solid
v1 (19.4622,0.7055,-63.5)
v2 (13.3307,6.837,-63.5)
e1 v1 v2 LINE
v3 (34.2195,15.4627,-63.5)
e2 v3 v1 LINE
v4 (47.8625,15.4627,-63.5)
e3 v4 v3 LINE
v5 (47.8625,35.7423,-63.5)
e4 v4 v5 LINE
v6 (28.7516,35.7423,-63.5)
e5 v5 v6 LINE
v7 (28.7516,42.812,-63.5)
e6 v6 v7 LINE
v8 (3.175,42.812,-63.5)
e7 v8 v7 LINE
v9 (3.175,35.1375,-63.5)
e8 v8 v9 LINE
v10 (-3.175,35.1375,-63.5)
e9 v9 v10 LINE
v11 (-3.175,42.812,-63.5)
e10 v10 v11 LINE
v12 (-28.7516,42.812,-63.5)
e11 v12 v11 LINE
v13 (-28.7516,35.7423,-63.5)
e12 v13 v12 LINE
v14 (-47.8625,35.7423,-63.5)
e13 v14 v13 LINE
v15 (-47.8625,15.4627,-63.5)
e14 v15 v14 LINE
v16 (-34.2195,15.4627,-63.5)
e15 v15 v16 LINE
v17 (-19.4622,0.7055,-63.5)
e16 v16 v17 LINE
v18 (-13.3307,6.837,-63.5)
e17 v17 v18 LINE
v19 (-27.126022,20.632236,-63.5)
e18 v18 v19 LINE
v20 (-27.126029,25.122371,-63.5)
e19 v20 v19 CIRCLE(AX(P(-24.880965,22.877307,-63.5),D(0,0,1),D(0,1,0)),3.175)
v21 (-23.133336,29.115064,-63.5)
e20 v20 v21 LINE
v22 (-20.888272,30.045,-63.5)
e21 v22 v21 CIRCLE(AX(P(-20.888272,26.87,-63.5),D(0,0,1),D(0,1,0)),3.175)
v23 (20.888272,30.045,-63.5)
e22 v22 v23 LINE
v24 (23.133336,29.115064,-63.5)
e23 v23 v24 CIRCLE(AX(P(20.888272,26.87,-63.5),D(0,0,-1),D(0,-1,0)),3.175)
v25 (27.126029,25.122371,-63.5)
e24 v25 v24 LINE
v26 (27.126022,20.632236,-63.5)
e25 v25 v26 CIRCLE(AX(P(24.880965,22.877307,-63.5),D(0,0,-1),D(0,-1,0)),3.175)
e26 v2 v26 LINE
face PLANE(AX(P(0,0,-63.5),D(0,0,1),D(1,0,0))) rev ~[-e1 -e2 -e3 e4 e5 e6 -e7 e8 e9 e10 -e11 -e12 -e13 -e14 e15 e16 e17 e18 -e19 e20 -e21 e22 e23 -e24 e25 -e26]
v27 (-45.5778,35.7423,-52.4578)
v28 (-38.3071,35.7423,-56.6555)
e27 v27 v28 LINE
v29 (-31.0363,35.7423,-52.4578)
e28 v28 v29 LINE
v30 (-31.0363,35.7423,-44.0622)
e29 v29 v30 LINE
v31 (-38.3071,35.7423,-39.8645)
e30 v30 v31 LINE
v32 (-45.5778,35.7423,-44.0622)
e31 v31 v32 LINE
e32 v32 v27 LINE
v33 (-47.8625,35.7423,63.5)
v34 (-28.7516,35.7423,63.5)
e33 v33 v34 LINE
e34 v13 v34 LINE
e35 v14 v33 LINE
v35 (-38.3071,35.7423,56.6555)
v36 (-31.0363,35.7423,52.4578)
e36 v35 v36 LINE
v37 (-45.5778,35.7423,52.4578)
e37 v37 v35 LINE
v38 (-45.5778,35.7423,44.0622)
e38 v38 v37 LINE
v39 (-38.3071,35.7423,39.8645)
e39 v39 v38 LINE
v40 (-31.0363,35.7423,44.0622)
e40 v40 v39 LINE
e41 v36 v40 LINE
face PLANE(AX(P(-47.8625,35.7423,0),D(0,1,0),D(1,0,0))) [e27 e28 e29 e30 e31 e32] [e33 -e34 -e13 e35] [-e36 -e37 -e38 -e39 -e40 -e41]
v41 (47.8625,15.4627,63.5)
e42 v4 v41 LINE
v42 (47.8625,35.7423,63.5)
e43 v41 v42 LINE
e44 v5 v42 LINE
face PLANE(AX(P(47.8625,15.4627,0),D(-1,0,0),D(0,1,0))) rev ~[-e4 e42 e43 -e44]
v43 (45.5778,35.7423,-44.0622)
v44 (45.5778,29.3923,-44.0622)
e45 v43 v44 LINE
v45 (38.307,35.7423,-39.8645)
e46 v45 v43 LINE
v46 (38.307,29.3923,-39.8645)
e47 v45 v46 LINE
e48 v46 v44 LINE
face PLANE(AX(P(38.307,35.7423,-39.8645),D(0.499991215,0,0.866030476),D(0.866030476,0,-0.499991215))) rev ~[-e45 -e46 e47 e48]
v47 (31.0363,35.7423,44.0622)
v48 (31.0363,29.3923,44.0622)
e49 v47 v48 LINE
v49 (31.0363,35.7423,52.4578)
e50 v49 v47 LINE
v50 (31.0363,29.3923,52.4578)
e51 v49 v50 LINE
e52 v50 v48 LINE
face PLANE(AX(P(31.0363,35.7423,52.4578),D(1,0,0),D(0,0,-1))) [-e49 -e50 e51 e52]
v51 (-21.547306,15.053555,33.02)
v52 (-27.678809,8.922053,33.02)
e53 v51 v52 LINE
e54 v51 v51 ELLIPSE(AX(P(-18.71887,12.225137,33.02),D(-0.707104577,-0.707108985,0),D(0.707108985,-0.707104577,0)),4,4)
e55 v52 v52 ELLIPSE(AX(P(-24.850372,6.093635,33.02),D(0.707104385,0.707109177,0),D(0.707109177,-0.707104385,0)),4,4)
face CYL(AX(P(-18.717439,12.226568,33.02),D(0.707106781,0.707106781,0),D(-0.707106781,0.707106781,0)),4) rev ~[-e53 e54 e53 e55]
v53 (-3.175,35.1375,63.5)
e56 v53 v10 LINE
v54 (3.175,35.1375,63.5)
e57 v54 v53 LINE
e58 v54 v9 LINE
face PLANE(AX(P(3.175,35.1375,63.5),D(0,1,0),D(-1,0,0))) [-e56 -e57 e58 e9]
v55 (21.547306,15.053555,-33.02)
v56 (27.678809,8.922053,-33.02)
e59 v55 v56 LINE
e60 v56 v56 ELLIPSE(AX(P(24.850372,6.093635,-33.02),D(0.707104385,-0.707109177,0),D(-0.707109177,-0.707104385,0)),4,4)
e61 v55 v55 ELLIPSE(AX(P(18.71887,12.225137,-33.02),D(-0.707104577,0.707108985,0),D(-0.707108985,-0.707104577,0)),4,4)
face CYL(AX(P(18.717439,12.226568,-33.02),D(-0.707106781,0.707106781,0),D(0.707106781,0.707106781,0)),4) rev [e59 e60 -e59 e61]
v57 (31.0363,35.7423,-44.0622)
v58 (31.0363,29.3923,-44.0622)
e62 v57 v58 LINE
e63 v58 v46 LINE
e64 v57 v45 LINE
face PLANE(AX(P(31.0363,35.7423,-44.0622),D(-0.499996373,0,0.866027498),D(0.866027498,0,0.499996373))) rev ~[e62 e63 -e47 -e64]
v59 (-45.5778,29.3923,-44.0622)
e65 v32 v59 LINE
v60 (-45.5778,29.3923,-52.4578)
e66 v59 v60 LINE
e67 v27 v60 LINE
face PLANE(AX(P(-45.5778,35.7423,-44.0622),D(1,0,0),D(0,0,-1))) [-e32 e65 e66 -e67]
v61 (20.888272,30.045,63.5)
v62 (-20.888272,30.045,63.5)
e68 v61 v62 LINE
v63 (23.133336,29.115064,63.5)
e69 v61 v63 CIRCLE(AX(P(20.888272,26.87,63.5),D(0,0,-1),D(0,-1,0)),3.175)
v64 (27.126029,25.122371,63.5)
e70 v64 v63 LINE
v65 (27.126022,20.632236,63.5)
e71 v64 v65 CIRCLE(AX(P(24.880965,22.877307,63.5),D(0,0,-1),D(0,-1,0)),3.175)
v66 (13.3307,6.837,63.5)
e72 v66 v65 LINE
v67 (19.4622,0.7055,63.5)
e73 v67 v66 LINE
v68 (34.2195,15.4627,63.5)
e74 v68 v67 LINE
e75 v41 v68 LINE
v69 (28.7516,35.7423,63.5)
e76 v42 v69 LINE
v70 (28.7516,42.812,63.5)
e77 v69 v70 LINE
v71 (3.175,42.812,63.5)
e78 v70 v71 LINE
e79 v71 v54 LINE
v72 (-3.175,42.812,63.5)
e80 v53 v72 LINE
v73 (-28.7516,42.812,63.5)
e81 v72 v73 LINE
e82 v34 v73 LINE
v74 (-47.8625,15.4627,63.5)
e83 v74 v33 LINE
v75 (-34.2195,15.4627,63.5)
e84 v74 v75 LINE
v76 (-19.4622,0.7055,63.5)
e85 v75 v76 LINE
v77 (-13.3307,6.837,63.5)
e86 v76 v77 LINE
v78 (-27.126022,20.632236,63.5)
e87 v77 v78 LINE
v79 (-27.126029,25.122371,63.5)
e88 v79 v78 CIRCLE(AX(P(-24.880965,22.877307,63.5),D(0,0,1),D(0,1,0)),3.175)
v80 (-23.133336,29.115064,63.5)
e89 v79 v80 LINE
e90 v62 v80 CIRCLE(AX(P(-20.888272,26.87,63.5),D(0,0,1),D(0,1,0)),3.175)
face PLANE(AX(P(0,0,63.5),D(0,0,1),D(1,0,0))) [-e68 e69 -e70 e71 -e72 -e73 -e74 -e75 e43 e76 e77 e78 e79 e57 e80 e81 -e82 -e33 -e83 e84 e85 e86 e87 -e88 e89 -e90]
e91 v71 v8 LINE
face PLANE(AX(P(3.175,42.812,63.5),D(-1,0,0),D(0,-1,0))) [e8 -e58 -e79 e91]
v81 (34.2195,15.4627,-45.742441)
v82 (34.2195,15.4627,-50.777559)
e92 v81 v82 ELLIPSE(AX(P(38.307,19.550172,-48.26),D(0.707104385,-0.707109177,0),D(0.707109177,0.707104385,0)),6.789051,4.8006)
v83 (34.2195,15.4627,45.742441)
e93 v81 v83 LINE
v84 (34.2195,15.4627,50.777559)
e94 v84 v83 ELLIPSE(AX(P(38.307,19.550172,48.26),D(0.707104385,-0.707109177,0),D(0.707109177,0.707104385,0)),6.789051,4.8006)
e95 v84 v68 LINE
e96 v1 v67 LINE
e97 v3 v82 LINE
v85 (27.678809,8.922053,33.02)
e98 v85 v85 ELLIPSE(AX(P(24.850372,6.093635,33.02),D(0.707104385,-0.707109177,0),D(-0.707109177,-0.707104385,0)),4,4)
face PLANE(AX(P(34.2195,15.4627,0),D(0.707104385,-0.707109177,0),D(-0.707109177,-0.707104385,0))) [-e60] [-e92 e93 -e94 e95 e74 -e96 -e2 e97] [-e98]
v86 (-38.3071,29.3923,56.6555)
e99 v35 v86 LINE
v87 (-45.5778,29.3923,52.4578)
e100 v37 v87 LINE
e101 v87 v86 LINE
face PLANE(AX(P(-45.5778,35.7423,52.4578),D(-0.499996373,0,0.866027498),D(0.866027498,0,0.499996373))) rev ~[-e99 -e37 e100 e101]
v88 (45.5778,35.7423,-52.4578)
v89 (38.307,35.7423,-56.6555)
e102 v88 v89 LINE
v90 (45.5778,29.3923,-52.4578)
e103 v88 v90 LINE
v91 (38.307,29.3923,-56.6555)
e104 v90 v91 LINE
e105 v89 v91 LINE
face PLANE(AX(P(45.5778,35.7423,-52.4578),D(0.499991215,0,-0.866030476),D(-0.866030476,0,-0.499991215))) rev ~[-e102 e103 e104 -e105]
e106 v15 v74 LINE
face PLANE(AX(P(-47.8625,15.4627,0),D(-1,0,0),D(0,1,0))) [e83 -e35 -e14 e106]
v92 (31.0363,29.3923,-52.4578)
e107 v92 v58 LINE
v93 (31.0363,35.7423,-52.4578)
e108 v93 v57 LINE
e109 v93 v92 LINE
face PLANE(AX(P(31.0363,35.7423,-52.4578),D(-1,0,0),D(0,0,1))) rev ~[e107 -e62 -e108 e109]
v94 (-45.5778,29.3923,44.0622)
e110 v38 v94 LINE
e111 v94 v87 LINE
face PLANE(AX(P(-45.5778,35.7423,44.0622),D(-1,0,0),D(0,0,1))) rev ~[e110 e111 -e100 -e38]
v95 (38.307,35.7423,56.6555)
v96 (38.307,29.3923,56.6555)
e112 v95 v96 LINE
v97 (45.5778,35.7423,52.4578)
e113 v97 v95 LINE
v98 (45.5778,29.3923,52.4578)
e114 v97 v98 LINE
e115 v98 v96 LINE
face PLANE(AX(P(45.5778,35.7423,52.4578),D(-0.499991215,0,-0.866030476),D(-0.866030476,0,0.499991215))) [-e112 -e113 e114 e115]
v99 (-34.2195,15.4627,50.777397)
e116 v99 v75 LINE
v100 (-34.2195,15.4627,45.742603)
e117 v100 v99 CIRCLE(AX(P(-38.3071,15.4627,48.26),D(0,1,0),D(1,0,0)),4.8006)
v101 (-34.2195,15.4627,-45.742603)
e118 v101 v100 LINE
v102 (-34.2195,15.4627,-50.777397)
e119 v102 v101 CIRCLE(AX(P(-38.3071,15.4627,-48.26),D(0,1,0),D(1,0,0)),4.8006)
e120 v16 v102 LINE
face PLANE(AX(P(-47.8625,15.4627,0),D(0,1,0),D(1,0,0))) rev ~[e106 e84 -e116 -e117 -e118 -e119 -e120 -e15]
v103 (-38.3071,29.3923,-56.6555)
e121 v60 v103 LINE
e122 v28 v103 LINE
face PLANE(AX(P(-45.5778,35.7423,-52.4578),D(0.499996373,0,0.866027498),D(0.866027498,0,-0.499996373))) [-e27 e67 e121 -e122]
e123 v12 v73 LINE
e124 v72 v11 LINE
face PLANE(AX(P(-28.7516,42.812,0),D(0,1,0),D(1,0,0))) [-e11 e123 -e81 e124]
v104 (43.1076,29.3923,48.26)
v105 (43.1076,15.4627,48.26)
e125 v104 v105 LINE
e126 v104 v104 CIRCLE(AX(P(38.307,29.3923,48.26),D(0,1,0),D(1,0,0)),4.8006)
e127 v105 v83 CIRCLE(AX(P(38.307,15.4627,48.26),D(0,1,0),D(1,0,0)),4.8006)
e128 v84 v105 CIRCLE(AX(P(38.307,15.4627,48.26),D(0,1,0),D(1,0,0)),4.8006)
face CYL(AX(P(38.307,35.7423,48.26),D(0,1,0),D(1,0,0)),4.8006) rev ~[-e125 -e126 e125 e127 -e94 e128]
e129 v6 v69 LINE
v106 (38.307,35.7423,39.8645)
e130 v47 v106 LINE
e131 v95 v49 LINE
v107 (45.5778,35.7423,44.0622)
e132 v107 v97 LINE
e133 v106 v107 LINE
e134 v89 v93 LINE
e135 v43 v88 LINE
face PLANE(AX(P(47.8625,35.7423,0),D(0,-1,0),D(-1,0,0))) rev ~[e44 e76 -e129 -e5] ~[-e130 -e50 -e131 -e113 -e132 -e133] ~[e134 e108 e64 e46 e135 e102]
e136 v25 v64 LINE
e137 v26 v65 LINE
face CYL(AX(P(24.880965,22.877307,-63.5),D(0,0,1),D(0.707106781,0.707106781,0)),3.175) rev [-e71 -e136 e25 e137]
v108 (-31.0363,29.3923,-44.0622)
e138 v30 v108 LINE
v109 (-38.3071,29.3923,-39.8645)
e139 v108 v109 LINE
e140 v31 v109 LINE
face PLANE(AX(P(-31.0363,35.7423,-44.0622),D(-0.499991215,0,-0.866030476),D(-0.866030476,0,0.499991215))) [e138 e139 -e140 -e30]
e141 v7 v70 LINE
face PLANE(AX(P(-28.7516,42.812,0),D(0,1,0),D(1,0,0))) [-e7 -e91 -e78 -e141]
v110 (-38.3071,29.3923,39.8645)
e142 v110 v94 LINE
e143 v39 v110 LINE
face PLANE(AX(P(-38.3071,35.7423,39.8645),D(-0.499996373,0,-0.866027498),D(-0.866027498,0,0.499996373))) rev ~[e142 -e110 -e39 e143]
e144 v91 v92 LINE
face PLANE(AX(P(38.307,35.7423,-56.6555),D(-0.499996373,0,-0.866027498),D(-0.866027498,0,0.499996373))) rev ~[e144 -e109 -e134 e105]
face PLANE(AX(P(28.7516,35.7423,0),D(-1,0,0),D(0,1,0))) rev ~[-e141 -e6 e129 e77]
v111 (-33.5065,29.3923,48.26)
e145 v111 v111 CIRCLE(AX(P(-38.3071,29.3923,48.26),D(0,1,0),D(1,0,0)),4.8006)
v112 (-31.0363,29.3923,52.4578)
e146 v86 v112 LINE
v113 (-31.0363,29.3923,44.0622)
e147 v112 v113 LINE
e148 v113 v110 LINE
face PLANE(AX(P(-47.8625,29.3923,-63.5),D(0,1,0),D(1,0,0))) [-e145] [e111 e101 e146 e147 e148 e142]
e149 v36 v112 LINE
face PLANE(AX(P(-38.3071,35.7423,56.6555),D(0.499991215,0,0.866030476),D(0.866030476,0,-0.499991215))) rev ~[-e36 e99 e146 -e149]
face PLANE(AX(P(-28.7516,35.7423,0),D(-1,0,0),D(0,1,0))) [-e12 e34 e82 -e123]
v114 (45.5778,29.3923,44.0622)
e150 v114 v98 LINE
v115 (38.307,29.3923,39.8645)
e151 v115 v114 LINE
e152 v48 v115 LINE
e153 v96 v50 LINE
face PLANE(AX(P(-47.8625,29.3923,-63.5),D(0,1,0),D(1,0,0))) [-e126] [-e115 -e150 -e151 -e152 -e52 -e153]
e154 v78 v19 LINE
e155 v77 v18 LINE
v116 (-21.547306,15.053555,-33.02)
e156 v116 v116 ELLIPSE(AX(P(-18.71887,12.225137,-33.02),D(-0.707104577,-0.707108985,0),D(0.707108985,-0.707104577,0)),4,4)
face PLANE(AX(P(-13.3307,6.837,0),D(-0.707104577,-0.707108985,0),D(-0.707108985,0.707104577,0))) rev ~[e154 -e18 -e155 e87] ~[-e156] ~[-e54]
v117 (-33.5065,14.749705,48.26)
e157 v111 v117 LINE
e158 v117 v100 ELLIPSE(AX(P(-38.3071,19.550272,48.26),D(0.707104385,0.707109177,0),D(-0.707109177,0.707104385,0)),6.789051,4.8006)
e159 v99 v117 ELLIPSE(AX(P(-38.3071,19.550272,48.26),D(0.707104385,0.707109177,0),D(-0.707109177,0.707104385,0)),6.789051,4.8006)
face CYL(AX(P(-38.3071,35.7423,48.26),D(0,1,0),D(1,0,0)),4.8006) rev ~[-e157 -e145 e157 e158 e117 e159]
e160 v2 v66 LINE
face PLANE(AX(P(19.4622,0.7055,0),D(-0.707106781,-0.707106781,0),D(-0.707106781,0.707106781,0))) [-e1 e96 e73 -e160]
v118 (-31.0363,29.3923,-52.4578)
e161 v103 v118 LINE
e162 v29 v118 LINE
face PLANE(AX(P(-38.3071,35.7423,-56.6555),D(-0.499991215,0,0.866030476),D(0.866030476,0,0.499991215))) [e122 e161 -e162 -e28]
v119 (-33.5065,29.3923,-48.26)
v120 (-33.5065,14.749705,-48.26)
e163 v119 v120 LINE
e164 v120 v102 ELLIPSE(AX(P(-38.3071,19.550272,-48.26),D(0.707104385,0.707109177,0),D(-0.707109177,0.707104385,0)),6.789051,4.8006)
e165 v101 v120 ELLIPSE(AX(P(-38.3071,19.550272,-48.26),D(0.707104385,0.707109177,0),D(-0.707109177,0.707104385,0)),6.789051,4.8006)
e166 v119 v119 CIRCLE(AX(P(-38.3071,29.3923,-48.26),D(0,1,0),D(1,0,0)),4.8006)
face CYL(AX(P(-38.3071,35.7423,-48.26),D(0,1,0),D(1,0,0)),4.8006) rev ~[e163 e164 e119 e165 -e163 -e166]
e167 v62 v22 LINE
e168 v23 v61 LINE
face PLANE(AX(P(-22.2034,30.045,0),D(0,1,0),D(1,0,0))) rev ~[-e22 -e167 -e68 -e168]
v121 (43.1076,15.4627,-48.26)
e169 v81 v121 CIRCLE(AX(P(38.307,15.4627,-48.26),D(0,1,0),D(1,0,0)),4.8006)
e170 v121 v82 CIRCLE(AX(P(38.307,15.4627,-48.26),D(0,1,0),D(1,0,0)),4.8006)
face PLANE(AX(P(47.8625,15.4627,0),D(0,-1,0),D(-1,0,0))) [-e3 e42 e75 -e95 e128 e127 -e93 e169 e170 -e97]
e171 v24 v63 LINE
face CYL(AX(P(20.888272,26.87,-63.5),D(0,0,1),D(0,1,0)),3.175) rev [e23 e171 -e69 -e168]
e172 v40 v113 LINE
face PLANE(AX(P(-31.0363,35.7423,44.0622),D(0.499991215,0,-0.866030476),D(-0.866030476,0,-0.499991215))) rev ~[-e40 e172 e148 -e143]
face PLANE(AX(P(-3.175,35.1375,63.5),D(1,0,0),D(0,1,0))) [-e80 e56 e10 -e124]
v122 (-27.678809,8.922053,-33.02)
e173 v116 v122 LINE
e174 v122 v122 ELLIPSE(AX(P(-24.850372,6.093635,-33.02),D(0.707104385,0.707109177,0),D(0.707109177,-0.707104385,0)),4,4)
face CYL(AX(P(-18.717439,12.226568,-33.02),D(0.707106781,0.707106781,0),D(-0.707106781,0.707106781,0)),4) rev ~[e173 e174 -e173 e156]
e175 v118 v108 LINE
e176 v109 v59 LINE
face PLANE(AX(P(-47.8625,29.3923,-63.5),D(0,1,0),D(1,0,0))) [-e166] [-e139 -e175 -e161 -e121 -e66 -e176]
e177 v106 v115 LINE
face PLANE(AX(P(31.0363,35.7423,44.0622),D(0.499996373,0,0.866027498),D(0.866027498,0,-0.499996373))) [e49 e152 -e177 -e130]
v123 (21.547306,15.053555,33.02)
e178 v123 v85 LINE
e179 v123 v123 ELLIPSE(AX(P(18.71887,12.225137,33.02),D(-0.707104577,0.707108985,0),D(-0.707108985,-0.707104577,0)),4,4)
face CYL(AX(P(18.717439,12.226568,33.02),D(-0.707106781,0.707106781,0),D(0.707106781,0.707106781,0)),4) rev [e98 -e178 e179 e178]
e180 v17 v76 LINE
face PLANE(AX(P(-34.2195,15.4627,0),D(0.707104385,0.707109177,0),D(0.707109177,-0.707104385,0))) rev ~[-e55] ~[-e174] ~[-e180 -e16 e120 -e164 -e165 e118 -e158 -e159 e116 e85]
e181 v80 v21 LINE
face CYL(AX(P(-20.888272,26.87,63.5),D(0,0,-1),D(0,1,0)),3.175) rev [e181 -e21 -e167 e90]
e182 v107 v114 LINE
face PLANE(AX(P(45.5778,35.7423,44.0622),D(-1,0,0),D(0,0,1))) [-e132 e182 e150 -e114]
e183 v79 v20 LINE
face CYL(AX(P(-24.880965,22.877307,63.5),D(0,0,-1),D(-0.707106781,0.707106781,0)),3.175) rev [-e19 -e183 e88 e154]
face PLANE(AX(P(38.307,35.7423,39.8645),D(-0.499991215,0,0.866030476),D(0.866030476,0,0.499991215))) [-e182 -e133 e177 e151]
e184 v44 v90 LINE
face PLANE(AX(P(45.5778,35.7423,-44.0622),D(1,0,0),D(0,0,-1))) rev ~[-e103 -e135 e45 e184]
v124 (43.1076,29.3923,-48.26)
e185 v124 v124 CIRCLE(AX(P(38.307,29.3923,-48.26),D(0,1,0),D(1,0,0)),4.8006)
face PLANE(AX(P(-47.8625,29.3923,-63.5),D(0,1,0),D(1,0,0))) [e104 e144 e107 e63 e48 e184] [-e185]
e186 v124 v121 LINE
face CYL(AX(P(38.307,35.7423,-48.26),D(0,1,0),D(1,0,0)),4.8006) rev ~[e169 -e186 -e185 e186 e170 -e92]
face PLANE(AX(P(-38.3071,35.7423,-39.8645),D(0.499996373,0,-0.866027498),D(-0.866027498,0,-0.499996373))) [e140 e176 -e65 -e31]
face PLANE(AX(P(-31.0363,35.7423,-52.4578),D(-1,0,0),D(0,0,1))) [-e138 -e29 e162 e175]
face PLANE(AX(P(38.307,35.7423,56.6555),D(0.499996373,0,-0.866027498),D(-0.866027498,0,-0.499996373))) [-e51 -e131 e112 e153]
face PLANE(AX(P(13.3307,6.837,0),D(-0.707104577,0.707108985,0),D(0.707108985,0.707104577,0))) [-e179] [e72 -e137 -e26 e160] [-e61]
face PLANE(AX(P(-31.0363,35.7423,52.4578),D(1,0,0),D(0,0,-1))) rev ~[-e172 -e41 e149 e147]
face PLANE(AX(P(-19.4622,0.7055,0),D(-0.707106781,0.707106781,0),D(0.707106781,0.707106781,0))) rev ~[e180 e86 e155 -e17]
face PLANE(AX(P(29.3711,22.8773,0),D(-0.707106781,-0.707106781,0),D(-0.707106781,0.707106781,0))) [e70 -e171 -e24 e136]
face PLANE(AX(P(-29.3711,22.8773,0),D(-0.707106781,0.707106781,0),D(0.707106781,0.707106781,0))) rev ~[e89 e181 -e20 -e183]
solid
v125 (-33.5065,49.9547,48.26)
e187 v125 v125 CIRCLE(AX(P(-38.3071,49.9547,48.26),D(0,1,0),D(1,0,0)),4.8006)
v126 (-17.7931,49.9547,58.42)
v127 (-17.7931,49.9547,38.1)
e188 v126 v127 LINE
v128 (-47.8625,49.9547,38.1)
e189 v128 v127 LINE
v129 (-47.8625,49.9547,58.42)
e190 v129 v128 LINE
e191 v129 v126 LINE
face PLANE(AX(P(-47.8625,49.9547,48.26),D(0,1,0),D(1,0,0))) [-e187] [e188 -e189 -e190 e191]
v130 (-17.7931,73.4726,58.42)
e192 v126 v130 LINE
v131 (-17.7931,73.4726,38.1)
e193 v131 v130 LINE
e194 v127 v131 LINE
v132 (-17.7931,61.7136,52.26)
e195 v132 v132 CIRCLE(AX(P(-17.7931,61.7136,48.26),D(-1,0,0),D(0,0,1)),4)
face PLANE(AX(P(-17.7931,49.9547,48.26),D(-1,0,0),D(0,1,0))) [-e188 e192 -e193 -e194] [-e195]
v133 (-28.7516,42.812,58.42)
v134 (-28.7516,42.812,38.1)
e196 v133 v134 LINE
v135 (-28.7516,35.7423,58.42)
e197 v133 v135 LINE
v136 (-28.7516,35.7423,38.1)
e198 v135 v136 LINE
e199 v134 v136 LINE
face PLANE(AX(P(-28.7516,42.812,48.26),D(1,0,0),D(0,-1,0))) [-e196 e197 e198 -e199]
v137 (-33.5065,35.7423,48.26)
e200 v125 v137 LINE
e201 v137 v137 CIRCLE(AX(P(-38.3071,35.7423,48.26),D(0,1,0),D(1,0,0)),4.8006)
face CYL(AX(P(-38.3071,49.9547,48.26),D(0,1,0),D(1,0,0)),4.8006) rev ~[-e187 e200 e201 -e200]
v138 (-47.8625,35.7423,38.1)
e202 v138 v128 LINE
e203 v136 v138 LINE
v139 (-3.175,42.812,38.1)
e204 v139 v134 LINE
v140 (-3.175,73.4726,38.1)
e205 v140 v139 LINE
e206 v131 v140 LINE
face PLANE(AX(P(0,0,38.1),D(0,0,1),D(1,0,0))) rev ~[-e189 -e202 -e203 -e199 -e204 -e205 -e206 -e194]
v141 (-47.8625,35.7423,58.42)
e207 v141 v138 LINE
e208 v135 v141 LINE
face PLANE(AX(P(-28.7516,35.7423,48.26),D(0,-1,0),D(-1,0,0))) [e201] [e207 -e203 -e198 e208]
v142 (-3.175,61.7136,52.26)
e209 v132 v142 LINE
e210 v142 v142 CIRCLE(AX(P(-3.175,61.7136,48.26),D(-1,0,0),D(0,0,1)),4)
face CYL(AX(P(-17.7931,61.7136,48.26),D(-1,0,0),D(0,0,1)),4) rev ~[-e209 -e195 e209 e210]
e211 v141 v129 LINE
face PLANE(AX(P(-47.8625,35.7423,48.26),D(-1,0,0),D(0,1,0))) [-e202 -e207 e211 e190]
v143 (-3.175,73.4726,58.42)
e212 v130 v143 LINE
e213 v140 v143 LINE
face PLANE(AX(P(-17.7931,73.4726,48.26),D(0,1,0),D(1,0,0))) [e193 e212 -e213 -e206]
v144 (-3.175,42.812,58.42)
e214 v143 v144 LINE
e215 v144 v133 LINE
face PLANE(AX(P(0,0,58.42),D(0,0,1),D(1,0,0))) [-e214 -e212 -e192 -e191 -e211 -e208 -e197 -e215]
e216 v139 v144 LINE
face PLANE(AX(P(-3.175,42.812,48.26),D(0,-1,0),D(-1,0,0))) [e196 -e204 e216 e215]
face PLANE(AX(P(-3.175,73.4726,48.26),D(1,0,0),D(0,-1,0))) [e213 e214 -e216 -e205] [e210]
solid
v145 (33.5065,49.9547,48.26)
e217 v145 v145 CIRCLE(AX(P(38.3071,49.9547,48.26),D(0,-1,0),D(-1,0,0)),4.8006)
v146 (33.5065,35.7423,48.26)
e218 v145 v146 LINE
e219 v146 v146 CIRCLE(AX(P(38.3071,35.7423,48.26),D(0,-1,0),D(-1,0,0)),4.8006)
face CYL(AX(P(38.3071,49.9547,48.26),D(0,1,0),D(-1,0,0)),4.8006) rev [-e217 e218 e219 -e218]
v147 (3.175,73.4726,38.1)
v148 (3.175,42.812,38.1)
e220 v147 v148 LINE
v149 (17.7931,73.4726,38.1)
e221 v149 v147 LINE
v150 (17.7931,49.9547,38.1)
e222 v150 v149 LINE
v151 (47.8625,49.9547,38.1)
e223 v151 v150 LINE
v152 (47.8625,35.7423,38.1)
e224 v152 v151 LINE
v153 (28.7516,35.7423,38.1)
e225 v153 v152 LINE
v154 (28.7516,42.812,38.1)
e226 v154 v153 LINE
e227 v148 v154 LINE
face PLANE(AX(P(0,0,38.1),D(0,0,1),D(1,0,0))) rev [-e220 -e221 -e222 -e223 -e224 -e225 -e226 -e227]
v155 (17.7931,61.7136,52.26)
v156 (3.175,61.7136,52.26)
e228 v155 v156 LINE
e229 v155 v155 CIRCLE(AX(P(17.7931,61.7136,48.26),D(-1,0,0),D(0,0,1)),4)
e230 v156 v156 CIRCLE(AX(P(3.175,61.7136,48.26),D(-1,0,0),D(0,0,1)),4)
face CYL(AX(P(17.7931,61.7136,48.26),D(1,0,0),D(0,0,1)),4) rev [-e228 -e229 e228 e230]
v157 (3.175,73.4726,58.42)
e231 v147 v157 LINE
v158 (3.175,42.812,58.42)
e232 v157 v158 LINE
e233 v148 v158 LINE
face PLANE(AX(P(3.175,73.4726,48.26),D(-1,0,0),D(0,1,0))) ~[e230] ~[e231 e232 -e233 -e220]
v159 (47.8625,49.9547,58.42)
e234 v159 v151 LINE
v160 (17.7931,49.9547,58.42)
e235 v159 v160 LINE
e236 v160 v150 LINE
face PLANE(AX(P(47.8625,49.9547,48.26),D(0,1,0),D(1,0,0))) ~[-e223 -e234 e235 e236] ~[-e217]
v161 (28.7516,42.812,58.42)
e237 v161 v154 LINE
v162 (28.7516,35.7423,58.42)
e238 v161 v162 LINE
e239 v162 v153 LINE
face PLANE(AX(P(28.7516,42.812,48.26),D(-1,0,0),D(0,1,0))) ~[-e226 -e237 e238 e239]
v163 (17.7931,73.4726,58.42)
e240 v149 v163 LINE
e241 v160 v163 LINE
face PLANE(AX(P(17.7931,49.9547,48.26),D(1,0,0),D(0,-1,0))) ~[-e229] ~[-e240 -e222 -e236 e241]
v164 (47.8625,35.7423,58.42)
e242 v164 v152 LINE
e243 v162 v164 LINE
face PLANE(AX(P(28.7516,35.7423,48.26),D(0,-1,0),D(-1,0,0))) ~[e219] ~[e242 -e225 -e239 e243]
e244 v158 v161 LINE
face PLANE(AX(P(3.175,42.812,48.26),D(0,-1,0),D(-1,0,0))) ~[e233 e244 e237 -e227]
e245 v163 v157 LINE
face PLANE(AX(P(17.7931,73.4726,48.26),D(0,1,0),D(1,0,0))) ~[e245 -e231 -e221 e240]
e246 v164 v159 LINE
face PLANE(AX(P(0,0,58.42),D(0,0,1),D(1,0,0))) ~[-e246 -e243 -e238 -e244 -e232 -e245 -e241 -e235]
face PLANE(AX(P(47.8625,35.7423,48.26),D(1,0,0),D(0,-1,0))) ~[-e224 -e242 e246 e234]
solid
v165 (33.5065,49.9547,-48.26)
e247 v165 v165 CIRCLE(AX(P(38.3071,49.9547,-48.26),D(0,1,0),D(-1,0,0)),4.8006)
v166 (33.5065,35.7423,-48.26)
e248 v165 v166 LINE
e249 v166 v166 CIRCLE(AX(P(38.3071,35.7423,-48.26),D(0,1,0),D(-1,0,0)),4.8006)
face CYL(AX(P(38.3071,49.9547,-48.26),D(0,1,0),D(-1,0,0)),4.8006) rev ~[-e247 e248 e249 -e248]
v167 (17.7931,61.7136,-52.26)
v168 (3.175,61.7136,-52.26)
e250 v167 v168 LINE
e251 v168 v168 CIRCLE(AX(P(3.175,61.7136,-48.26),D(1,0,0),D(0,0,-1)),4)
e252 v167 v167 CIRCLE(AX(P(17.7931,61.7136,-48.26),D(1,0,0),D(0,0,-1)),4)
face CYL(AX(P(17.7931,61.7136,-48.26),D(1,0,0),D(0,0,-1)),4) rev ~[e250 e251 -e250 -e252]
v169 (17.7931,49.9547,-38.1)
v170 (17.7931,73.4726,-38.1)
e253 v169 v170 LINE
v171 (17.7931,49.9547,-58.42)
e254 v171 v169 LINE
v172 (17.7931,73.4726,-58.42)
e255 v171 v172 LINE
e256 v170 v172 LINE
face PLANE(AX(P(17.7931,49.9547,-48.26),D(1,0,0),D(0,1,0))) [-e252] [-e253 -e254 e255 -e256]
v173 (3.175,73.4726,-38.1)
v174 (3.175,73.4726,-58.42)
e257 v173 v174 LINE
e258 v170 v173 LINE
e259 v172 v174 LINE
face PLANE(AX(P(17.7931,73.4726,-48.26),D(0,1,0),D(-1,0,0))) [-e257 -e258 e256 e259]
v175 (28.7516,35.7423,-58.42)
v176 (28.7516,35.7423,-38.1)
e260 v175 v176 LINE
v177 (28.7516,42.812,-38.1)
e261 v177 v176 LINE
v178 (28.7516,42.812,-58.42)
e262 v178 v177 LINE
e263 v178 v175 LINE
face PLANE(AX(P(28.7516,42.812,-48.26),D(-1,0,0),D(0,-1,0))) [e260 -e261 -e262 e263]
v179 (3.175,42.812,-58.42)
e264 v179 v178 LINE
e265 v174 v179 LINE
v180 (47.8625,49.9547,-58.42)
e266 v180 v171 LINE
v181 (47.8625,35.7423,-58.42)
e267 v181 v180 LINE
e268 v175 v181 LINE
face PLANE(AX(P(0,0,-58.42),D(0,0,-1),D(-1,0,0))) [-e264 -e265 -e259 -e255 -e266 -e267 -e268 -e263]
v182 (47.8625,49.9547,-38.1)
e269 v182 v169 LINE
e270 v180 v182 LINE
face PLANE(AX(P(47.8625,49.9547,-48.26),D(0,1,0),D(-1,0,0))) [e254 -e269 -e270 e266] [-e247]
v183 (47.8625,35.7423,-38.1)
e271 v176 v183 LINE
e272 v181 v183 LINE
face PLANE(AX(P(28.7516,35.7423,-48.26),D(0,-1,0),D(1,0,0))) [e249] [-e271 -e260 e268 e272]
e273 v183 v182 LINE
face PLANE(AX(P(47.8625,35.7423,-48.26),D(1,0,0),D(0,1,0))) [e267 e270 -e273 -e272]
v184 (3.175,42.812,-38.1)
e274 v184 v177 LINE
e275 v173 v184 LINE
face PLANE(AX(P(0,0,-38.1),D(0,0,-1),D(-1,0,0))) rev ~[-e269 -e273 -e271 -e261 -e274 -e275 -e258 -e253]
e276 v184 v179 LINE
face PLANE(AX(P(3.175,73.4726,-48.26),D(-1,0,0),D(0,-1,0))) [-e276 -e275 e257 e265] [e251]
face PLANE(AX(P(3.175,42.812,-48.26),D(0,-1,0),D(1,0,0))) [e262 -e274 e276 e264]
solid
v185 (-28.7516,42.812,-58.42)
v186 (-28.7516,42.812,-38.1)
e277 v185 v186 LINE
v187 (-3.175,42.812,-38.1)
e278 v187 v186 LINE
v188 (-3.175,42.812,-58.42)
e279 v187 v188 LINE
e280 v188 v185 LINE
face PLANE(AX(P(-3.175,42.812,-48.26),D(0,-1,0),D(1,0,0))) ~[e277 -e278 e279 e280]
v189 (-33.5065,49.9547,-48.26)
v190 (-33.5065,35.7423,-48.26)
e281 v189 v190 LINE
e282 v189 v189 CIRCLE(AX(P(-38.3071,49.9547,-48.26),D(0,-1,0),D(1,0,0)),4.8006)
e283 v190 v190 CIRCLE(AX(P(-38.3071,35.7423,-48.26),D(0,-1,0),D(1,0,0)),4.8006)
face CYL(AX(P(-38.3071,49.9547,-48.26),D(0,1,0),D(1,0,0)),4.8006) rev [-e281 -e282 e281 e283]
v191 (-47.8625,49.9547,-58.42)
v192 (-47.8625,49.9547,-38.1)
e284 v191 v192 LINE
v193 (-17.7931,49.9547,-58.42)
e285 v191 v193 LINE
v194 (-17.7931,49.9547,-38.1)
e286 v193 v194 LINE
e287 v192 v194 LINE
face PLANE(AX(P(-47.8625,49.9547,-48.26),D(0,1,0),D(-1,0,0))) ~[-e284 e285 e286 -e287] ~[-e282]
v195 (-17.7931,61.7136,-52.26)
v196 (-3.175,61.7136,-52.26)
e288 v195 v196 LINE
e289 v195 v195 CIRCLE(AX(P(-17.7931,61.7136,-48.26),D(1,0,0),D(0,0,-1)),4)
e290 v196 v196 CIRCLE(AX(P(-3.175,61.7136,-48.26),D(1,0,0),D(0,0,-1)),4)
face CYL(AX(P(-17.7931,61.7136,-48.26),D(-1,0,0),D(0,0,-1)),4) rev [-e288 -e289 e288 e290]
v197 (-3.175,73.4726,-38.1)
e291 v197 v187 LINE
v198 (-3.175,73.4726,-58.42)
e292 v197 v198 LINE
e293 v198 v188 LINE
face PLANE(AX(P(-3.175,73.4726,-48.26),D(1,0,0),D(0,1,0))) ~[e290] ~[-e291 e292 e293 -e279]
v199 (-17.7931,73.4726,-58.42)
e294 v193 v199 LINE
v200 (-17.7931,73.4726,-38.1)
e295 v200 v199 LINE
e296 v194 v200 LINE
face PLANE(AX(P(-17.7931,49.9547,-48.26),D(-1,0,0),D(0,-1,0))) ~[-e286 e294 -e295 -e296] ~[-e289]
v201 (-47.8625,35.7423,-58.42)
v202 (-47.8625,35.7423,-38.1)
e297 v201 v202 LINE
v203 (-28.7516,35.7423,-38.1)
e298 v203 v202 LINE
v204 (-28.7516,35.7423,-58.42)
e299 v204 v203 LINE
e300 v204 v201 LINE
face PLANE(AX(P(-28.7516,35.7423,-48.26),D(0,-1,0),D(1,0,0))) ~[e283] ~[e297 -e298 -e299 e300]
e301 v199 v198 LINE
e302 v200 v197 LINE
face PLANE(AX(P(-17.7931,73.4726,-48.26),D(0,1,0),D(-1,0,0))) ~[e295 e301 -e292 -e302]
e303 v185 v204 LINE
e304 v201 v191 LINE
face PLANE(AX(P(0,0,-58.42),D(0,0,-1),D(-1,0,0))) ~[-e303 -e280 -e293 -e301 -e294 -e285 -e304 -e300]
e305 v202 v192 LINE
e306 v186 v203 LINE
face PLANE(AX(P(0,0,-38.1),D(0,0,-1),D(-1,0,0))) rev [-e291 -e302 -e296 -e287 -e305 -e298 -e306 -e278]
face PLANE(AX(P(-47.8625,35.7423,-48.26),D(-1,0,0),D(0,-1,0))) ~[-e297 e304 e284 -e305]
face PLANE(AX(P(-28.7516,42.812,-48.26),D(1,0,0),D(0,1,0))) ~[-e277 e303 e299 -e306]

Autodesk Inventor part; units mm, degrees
sketch "Sketch1" plane through (0, 0, 0) normal (0, 0, 1) x (1, 0, 0)
  line L0 (0, 17.9605) -> (17.9605, 0) construction
  line L1 (17.9605, 0) -> (0, -17.9605) construction
  line L2 (0, -17.9605) -> (-17.9605, 0) construction
  line L3 (-17.9605, 0) -> (0, 17.9605) construction
  line L4 (0, 17.9605) -> (0, -17.9605) construction
  line L5 (17.9605, 0) -> (-17.9605, 0) construction
  line L6 (0, -30.115) -> (0, 54.9665) projected
  line L7 (-27.2882, 23.4644) -> (-11.7319, 7.908) construction
  line L8 (-11.7319, 7.908) -> (-6.7821, 12.8578) construction
  line L9 (-6.7821, 12.8578) -> (-22.3385, 28.4141) construction
  line L10 (-27.2882, 23.4644) -> (-22.3385, 28.4141) construction
  line L11 (27.2882, 23.4644) -> (11.7319, 7.908) construction
  line L12 (11.7319, 7.908) -> (6.7821, 12.8578) construction
  line L13 (6.7821, 12.8578) -> (22.3385, 28.4141) construction
  line L14 (27.2882, 23.4644) -> (22.3385, 28.4141) construction
  line L15 (-13.3307, 6.837) -> (-29.3711, 22.8773)
  line L16 (-29.3711, 22.8773) -> (-22.2034, 30.045)
  line L17 (-22.2034, 30.045) -> (0, 30.045)
  line L18 (-47.8625, 35.7423) -> (-28.7516, 35.7423)
  line L19 (-28.7516, 35.7423) -> (-28.7516, 42.812)
  line L20 (-28.7516, 42.812) -> (0, 42.812)
  line L21 (-47.8625, 15.4627) -> (-47.8625, 35.7423)
  line L22 (-47.8625, 15.4627) -> (-34.2195, 15.4627)
  line L23 (-34.2195, 15.4627) -> (-19.4622, 0.7055)
  line L24 (-19.4622, 0.7055) -> (-13.3307, 6.837)
  line L25 (13.3307, 6.837) -> (29.3711, 22.8773)
  line L26 (29.3711, 22.8773) -> (22.2034, 30.045)
  line L27 (22.2034, 30.045) -> (0, 30.045)
  line L28 (47.8625, 35.7423) -> (28.7516, 35.7423)
  line L29 (28.7516, 35.7423) -> (28.7516, 42.812)
  line L30 (28.7516, 42.812) -> (0, 42.812)
  line L31 (47.8625, 15.4627) -> (47.8625, 35.7423)
  line L32 (47.8625, 15.4627) -> (34.2195, 15.4627)
  line L33 (34.2195, 15.4627) -> (19.4622, 0.7055)
  line L34 (19.4622, 0.7055) -> (13.3307, 6.837)
  point P0 (0, 0)
  point P1 (0, 0)
  point P2 (0, 0)
  point P3 (0, 0)
  dimension "d2" = 25.4
  dimension "d3" = 25.4
  dimension "d6" = 22
  dimension "d14" = 7
extrude "Carriage Frame" add sketch "Sketch1" along normal mid plane 127
fillet "Fillet1" radius 3.175 4 edges at (-29.3711, 22.8773, 0) (-22.2034, 30.045, 0) (22.2034, 30.045, 0) (29.3711, 22.8773, 0)
sketch "Sketch7" plane through (-47.8625, 35.7423, -63.5) normal (0, 1, 0) x (1, 0, 0)
  line L0 (19.1109, 0) -> (76.6141, 0) projected
  line L1 (19.1109, 0) -> (19.1109, -127) projected
  line L2 (76.6141, -127) -> (19.1109, -127) projected
  line L3 (76.6141, 0) -> (76.6141, -127) projected
  line L4 (0, 0) -> (19.1109, 0) projected
  line L5 (0, 0) -> (0, -127) projected
  line L6 (19.1109, -127) -> (0, -127) projected
  line L7 (19.1109, 0) -> (19.1109, -127) projected
  line L8 (76.6141, 0) -> (95.725, 0) projected
  line L9 (76.6141, 0) -> (76.6141, -127) projected
  line L10 (95.725, -127) -> (76.6141, -127) projected
  line L11 (95.725, -127) -> (95.725, 0) projected
  line L12 (19.1109, -63.5) -> (76.6141, -63.5) construction
  line L13 (47.8625, -63.5) -> (47.8625, -63.5) construction
  line L14 (16.8262, -19.4378) -> (9.5554, -23.6355)
  line L15 (9.5554, -23.6355) -> (2.2847, -19.4378)
  line L16 (2.2847, -19.4378) -> (2.2847, -11.0422)
  line L17 (2.2847, -11.0422) -> (9.5554, -6.8445)
  line L18 (9.5554, -6.8445) -> (16.8262, -11.0422)
  line L19 (16.8262, -11.0422) -> (16.8262, -19.4378)
  line L20 (78.8988, -19.4378) -> (86.1695, -23.6355)
  line L21 (86.1695, -23.6355) -> (93.4403, -19.4378)
  line L22 (93.4403, -19.4378) -> (93.4403, -11.0422)
  line L23 (93.4403, -11.0422) -> (86.1695, -6.8445)
  line L24 (86.1695, -6.8445) -> (78.8988, -11.0422)
  line L25 (78.8988, -11.0422) -> (78.8988, -19.4378)
  line L26 (16.8262, -107.5622) -> (9.5554, -103.3645)
  line L27 (9.5554, -103.3645) -> (2.2847, -107.5622)
  line L28 (2.2847, -107.5622) -> (2.2847, -115.9578)
  line L29 (2.2847, -115.9578) -> (9.5554, -120.1555)
  line L30 (9.5554, -120.1555) -> (16.8262, -115.9578)
  line L31 (16.8262, -115.9578) -> (16.8262, -107.5622)
  line L32 (78.8988, -115.9578) -> (78.8988, -107.5622)
  line L33 (86.1695, -120.1555) -> (78.8988, -115.9578)
  line L34 (78.8988, -107.5622) -> (86.1695, -103.3645)
  line L35 (93.4403, -115.9578) -> (86.1695, -120.1555)
  line L36 (93.4403, -107.5622) -> (93.4403, -115.9578)
  line L37 (86.1695, -103.3645) -> (93.4403, -107.5622)
  circle A0 centre (9.5554, -15.24) radius 4.8006
  circle A1 centre (86.1695, -15.24) radius 4.8006
  circle A2 centre (9.5554, -111.76) radius 4.8006
  circle A3 centre (86.1695, -111.76) radius 4.8006
  point P0 (9.5554, 0)
  dimension "d61" = 15.24
  dimension "d78" = 14.5415
  dimension "d79" = 9.6012
extrude "Carriage Screw" cut sketch "Sketch7" against normal through all contours A0 | A1 | A2 | A3
extrude "Carriage Screw Insert" cut sketch "Sketch7" against normal blind 6.35 contours L14 L15 L16 L17 L18 L19 | L25 L24 L23 L22 L21 L20 | L31 L30 L29 L28 L27 L26 | L32 L34 L37 L36 L35 L33 | A3
sketch "Ball Bearings" plane through (-13.3307, 6.837, -63.5) normal (0.7071, 0.7071, 0) x (-0.7071, 0.7071, 0)
  line L0 (19.5095, 127) -> (19.5095, 0) projected
  line L1 (0, 127) -> (19.5095, 127) projected
  line L2 (0, 0) -> (0, 127) projected
  line L3 (19.5095, 0) -> (0, 0) projected
  circle A0 centre (7.62, 96.52) radius 4
  line L4 (19.5095, 63.5) -> (0, 63.5) construction
  circle A1 centre (7.62, 30.48) radius 4
  point P0 (-14.2607, 63.5)
  dimension "d94" = 8
  dimension "d106" = 33.02
  dimension "d107" = 7.62
ref_plane "Carriage Mid Plane" through (0, 15.4627, -63.5) normal (-1, 0, 0) x (0, 0, 1)
extrude "Ball Bearing Hole" cut sketch "Ball Bearings" against normal up to surface (8.6713 mm away) contours A0 | A1
mirror "Mirror4" about plane through (0, 15.4627, -63.5) normal (-1, 0, 0) of "Ball Bearing Hole"
sketch "Sketch13" plane through (0, 0, 63.5) normal (0, 0, 1) x (1, 0, 0)
  line L0 (47.8625, 35.7423) -> (28.7516, 35.7423) projected
  line L1 (28.7516, 35.7423) -> (28.7516, 42.812) projected
  line L2 (28.7516, 42.812) -> (-28.7516, 42.812) projected
  line L3 (-28.7516, 42.812) -> (-28.7516, 35.7423) projected
  line L4 (-28.7516, 35.7423) -> (-47.8625, 35.7423) projected
  line L5 (-47.8625, 35.7423) -> (-47.8625, 15.4627) projected
  line L6 (-47.8625, 15.4627) -> (-34.2195, 15.4627) projected
  line L7 (-34.2195, 15.4627) -> (-19.4622, 0.7055) projected
  line L8 (-19.4622, 0.7055) -> (-13.3307, 6.837) projected
  line L9 (-13.3307, 6.837) -> (-27.126, 20.6323) projected
  arc A0 (-27.126, 25.1224) -> (-27.126, 20.6323) centre (-24.8809, 22.8773) ccw projected
  line L10 (-27.126, 25.1224) -> (-23.1333, 29.1151) projected
  arc A1 (-20.8883, 30.045) -> (-23.1333, 29.1151) centre (-20.8883, 26.87) ccw projected
  line L11 (-20.8883, 30.045) -> (20.8883, 30.045) projected
  arc A2 (23.1333, 29.1151) -> (20.8883, 30.045) centre (20.8883, 26.87) ccw projected
  line L12 (23.1333, 29.1151) -> (27.126, 25.1224) projected
  arc A3 (27.126, 20.6323) -> (27.126, 25.1224) centre (24.8809, 22.8773) ccw projected
  line L13 (27.126, 20.6323) -> (13.3307, 6.837) projected
  line L14 (13.3307, 6.837) -> (19.4622, 0.7055) projected
  line L15 (19.4622, 0.7055) -> (34.2195, 15.4627) projected
  line L16 (34.2195, 15.4627) -> (47.8625, 15.4627) projected
  line L17 (47.8625, 15.4627) -> (47.8625, 35.7423) projected
  line L18 (-3.175, 42.812) -> (3.175, 42.812)
  line L19 (3.175, 42.812) -> (3.175, 35.1375)
  line L20 (3.175, 35.1375) -> (-3.175, 35.1375)
  line L21 (-3.175, 35.1375) -> (-3.175, 42.812)
  point P0 (0, 0)
  point P1 (0, 42.812)
  point P2 (0, 42.812)
  dimension "d112" = 6.35
extrude "Extrusion11" cut sketch "Sketch13" against normal up to surface (127 mm away) contours L19 L20 L21 L2
ref_plane "Work Plane3" through (0, 0, 48.26) normal (0, 0, 1) x (1, 0, 0)
sketch "Sketch15" plane through (0, 0, 48.26) normal (0, 0, 1) x (1, 0, 0)
  line L0 (-3.175, 35.1375) -> (-3.175, 42.812) projected
  line L1 (-3.175, 42.812) -> (-28.7516, 42.812) projected
  line L2 (-28.7516, 42.812) -> (-28.7516, 35.7423) projected
  line L3 (-28.7516, 35.7423) -> (-47.8625, 35.7423) projected
  line L4 (-47.8625, 35.7423) -> (-47.8625, 15.4627) projected
  line L5 (-47.8625, 15.4627) -> (-34.2195, 15.4627) projected
  line L6 (-34.2195, 15.4627) -> (-19.4622, 0.7055) projected
  line L7 (-19.4622, 0.7055) -> (-13.3307, 6.837) projected
  line L8 (-13.3307, 6.837) -> (-27.126, 20.6323) projected
  arc A0 (-27.126, 25.1224) -> (-27.126, 20.6323) centre (-24.8809, 22.8773) ccw projected
  line L9 (-27.126, 25.1224) -> (-23.1333, 29.1151) projected
  arc A1 (-20.8883, 30.045) -> (-23.1333, 29.1151) centre (-20.8883, 26.87) ccw projected
  line L10 (-20.8883, 30.045) -> (20.8883, 30.045) projected
  arc A2 (23.1333, 29.1151) -> (20.8883, 30.045) centre (20.8883, 26.87) ccw projected
  line L11 (23.1333, 29.1151) -> (27.126, 25.1224) projected
  arc A3 (27.126, 20.6323) -> (27.126, 25.1224) centre (24.8809, 22.8773) ccw projected
  line L12 (27.126, 20.6323) -> (13.3307, 6.837) projected
  line L13 (13.3307, 6.837) -> (19.4622, 0.7055) projected
  line L14 (19.4622, 0.7055) -> (34.2195, 15.4627) projected
  line L15 (34.2195, 15.4627) -> (47.8625, 15.4627) projected
  line L16 (47.8625, 15.4627) -> (47.8625, 35.7423) projected
  line L17 (47.8625, 35.7423) -> (28.7516, 35.7423) projected
  line L18 (28.7516, 35.7423) -> (28.7516, 42.812) projected
  line L19 (28.7516, 42.812) -> (3.175, 42.812) projected
  line L20 (3.175, 42.812) -> (3.175, 35.1375) projected
  line L21 (3.175, 35.1375) -> (-3.175, 35.1375) projected
  line L22 (-3.175, 42.812) -> (-3.175, 80.5116) construction
  line L23 (-3.175, 80.5116) -> (3.175, 80.5116) construction
  line L24 (3.175, 42.812) -> (3.175, 80.5116) construction
  line L25 (-47.8625, 35.7423) -> (-47.8625, 49.9547)
  line L26 (-47.8625, 49.9547) -> (-17.7931, 49.9547)
  line L27 (-17.7931, 49.9547) -> (-17.7931, 73.4726)
  line L28 (-17.7931, 73.4726) -> (-3.175, 73.4726)
  line L29 (-3.175, 73.4726) -> (-3.175, 42.812)
  line L30 (-28.7516, 42.812) -> (-28.7516, 35.7423)
  point P0 (0, 0)
extrude "Extrusion12" add sketch "Sketch15" along normal mid plane 20.32 separate body contours L1 L2 L3 L25 L26 L27 L28 L29
sketch "Sketch16" plane through (-47.8625, 49.9547, 58.42) normal (0, 1, 0) x (1, 0, 0)
  circle A0 centre (9.5554, 10.16) radius 4.8006 projected
  point P0 (47.8625, 58.42)
extrude "Extrusion13" cut sketch "Sketch16" against normal through all bodies 2
sketch "Sketch17" plane through (-17.7931, 49.9547, 58.42) normal (-1, 0, 0) x (0, 0, 1)
  line L0 (-20.32, 0) -> (0, 0) projected
  line L1 (0, 23.5178) -> (0, 0) projected
  line L2 (-20.32, 23.5178) -> (0, 23.5178) projected
  line L3 (-20.32, 0) -> (-20.32, 23.5178) projected
  circle A0 centre (-10.16, 11.7589) radius 4
  point P0 (-58.42, -49.9547)
  point P1 (-10.16, 23.5178)
  point P2 (0, 11.7589)
  dimension "d122" = 8
extrude "Extrusion14" cut sketch "Sketch17" against normal through all contours A0 bodies 2
ref_plane "Work Plane4" through (0, 15.4627, 63.5) normal (-1, 0, 0) x (0, 0, 1)
ref_plane "Work Plane5" through (0, 0, 0) normal (0, 0, -1) x (-1, 0, 0)
mirror "Mirror5" about plane through (0, 15.4627, 63.5) normal (-1, 0, 0) bodies 2
mirror "Mirror6" about plane through (0, 0, 0) normal (0, 0, -1) bodies 2
equation "\"carriage_length\" = 127"
equation "\"ball_bearing_diam\" = 22"
equation "\"ball_bearing_hole\" = 8"
equation "\"d92\" = 8"
properties part number "carriage" material "ABS Plastic"
